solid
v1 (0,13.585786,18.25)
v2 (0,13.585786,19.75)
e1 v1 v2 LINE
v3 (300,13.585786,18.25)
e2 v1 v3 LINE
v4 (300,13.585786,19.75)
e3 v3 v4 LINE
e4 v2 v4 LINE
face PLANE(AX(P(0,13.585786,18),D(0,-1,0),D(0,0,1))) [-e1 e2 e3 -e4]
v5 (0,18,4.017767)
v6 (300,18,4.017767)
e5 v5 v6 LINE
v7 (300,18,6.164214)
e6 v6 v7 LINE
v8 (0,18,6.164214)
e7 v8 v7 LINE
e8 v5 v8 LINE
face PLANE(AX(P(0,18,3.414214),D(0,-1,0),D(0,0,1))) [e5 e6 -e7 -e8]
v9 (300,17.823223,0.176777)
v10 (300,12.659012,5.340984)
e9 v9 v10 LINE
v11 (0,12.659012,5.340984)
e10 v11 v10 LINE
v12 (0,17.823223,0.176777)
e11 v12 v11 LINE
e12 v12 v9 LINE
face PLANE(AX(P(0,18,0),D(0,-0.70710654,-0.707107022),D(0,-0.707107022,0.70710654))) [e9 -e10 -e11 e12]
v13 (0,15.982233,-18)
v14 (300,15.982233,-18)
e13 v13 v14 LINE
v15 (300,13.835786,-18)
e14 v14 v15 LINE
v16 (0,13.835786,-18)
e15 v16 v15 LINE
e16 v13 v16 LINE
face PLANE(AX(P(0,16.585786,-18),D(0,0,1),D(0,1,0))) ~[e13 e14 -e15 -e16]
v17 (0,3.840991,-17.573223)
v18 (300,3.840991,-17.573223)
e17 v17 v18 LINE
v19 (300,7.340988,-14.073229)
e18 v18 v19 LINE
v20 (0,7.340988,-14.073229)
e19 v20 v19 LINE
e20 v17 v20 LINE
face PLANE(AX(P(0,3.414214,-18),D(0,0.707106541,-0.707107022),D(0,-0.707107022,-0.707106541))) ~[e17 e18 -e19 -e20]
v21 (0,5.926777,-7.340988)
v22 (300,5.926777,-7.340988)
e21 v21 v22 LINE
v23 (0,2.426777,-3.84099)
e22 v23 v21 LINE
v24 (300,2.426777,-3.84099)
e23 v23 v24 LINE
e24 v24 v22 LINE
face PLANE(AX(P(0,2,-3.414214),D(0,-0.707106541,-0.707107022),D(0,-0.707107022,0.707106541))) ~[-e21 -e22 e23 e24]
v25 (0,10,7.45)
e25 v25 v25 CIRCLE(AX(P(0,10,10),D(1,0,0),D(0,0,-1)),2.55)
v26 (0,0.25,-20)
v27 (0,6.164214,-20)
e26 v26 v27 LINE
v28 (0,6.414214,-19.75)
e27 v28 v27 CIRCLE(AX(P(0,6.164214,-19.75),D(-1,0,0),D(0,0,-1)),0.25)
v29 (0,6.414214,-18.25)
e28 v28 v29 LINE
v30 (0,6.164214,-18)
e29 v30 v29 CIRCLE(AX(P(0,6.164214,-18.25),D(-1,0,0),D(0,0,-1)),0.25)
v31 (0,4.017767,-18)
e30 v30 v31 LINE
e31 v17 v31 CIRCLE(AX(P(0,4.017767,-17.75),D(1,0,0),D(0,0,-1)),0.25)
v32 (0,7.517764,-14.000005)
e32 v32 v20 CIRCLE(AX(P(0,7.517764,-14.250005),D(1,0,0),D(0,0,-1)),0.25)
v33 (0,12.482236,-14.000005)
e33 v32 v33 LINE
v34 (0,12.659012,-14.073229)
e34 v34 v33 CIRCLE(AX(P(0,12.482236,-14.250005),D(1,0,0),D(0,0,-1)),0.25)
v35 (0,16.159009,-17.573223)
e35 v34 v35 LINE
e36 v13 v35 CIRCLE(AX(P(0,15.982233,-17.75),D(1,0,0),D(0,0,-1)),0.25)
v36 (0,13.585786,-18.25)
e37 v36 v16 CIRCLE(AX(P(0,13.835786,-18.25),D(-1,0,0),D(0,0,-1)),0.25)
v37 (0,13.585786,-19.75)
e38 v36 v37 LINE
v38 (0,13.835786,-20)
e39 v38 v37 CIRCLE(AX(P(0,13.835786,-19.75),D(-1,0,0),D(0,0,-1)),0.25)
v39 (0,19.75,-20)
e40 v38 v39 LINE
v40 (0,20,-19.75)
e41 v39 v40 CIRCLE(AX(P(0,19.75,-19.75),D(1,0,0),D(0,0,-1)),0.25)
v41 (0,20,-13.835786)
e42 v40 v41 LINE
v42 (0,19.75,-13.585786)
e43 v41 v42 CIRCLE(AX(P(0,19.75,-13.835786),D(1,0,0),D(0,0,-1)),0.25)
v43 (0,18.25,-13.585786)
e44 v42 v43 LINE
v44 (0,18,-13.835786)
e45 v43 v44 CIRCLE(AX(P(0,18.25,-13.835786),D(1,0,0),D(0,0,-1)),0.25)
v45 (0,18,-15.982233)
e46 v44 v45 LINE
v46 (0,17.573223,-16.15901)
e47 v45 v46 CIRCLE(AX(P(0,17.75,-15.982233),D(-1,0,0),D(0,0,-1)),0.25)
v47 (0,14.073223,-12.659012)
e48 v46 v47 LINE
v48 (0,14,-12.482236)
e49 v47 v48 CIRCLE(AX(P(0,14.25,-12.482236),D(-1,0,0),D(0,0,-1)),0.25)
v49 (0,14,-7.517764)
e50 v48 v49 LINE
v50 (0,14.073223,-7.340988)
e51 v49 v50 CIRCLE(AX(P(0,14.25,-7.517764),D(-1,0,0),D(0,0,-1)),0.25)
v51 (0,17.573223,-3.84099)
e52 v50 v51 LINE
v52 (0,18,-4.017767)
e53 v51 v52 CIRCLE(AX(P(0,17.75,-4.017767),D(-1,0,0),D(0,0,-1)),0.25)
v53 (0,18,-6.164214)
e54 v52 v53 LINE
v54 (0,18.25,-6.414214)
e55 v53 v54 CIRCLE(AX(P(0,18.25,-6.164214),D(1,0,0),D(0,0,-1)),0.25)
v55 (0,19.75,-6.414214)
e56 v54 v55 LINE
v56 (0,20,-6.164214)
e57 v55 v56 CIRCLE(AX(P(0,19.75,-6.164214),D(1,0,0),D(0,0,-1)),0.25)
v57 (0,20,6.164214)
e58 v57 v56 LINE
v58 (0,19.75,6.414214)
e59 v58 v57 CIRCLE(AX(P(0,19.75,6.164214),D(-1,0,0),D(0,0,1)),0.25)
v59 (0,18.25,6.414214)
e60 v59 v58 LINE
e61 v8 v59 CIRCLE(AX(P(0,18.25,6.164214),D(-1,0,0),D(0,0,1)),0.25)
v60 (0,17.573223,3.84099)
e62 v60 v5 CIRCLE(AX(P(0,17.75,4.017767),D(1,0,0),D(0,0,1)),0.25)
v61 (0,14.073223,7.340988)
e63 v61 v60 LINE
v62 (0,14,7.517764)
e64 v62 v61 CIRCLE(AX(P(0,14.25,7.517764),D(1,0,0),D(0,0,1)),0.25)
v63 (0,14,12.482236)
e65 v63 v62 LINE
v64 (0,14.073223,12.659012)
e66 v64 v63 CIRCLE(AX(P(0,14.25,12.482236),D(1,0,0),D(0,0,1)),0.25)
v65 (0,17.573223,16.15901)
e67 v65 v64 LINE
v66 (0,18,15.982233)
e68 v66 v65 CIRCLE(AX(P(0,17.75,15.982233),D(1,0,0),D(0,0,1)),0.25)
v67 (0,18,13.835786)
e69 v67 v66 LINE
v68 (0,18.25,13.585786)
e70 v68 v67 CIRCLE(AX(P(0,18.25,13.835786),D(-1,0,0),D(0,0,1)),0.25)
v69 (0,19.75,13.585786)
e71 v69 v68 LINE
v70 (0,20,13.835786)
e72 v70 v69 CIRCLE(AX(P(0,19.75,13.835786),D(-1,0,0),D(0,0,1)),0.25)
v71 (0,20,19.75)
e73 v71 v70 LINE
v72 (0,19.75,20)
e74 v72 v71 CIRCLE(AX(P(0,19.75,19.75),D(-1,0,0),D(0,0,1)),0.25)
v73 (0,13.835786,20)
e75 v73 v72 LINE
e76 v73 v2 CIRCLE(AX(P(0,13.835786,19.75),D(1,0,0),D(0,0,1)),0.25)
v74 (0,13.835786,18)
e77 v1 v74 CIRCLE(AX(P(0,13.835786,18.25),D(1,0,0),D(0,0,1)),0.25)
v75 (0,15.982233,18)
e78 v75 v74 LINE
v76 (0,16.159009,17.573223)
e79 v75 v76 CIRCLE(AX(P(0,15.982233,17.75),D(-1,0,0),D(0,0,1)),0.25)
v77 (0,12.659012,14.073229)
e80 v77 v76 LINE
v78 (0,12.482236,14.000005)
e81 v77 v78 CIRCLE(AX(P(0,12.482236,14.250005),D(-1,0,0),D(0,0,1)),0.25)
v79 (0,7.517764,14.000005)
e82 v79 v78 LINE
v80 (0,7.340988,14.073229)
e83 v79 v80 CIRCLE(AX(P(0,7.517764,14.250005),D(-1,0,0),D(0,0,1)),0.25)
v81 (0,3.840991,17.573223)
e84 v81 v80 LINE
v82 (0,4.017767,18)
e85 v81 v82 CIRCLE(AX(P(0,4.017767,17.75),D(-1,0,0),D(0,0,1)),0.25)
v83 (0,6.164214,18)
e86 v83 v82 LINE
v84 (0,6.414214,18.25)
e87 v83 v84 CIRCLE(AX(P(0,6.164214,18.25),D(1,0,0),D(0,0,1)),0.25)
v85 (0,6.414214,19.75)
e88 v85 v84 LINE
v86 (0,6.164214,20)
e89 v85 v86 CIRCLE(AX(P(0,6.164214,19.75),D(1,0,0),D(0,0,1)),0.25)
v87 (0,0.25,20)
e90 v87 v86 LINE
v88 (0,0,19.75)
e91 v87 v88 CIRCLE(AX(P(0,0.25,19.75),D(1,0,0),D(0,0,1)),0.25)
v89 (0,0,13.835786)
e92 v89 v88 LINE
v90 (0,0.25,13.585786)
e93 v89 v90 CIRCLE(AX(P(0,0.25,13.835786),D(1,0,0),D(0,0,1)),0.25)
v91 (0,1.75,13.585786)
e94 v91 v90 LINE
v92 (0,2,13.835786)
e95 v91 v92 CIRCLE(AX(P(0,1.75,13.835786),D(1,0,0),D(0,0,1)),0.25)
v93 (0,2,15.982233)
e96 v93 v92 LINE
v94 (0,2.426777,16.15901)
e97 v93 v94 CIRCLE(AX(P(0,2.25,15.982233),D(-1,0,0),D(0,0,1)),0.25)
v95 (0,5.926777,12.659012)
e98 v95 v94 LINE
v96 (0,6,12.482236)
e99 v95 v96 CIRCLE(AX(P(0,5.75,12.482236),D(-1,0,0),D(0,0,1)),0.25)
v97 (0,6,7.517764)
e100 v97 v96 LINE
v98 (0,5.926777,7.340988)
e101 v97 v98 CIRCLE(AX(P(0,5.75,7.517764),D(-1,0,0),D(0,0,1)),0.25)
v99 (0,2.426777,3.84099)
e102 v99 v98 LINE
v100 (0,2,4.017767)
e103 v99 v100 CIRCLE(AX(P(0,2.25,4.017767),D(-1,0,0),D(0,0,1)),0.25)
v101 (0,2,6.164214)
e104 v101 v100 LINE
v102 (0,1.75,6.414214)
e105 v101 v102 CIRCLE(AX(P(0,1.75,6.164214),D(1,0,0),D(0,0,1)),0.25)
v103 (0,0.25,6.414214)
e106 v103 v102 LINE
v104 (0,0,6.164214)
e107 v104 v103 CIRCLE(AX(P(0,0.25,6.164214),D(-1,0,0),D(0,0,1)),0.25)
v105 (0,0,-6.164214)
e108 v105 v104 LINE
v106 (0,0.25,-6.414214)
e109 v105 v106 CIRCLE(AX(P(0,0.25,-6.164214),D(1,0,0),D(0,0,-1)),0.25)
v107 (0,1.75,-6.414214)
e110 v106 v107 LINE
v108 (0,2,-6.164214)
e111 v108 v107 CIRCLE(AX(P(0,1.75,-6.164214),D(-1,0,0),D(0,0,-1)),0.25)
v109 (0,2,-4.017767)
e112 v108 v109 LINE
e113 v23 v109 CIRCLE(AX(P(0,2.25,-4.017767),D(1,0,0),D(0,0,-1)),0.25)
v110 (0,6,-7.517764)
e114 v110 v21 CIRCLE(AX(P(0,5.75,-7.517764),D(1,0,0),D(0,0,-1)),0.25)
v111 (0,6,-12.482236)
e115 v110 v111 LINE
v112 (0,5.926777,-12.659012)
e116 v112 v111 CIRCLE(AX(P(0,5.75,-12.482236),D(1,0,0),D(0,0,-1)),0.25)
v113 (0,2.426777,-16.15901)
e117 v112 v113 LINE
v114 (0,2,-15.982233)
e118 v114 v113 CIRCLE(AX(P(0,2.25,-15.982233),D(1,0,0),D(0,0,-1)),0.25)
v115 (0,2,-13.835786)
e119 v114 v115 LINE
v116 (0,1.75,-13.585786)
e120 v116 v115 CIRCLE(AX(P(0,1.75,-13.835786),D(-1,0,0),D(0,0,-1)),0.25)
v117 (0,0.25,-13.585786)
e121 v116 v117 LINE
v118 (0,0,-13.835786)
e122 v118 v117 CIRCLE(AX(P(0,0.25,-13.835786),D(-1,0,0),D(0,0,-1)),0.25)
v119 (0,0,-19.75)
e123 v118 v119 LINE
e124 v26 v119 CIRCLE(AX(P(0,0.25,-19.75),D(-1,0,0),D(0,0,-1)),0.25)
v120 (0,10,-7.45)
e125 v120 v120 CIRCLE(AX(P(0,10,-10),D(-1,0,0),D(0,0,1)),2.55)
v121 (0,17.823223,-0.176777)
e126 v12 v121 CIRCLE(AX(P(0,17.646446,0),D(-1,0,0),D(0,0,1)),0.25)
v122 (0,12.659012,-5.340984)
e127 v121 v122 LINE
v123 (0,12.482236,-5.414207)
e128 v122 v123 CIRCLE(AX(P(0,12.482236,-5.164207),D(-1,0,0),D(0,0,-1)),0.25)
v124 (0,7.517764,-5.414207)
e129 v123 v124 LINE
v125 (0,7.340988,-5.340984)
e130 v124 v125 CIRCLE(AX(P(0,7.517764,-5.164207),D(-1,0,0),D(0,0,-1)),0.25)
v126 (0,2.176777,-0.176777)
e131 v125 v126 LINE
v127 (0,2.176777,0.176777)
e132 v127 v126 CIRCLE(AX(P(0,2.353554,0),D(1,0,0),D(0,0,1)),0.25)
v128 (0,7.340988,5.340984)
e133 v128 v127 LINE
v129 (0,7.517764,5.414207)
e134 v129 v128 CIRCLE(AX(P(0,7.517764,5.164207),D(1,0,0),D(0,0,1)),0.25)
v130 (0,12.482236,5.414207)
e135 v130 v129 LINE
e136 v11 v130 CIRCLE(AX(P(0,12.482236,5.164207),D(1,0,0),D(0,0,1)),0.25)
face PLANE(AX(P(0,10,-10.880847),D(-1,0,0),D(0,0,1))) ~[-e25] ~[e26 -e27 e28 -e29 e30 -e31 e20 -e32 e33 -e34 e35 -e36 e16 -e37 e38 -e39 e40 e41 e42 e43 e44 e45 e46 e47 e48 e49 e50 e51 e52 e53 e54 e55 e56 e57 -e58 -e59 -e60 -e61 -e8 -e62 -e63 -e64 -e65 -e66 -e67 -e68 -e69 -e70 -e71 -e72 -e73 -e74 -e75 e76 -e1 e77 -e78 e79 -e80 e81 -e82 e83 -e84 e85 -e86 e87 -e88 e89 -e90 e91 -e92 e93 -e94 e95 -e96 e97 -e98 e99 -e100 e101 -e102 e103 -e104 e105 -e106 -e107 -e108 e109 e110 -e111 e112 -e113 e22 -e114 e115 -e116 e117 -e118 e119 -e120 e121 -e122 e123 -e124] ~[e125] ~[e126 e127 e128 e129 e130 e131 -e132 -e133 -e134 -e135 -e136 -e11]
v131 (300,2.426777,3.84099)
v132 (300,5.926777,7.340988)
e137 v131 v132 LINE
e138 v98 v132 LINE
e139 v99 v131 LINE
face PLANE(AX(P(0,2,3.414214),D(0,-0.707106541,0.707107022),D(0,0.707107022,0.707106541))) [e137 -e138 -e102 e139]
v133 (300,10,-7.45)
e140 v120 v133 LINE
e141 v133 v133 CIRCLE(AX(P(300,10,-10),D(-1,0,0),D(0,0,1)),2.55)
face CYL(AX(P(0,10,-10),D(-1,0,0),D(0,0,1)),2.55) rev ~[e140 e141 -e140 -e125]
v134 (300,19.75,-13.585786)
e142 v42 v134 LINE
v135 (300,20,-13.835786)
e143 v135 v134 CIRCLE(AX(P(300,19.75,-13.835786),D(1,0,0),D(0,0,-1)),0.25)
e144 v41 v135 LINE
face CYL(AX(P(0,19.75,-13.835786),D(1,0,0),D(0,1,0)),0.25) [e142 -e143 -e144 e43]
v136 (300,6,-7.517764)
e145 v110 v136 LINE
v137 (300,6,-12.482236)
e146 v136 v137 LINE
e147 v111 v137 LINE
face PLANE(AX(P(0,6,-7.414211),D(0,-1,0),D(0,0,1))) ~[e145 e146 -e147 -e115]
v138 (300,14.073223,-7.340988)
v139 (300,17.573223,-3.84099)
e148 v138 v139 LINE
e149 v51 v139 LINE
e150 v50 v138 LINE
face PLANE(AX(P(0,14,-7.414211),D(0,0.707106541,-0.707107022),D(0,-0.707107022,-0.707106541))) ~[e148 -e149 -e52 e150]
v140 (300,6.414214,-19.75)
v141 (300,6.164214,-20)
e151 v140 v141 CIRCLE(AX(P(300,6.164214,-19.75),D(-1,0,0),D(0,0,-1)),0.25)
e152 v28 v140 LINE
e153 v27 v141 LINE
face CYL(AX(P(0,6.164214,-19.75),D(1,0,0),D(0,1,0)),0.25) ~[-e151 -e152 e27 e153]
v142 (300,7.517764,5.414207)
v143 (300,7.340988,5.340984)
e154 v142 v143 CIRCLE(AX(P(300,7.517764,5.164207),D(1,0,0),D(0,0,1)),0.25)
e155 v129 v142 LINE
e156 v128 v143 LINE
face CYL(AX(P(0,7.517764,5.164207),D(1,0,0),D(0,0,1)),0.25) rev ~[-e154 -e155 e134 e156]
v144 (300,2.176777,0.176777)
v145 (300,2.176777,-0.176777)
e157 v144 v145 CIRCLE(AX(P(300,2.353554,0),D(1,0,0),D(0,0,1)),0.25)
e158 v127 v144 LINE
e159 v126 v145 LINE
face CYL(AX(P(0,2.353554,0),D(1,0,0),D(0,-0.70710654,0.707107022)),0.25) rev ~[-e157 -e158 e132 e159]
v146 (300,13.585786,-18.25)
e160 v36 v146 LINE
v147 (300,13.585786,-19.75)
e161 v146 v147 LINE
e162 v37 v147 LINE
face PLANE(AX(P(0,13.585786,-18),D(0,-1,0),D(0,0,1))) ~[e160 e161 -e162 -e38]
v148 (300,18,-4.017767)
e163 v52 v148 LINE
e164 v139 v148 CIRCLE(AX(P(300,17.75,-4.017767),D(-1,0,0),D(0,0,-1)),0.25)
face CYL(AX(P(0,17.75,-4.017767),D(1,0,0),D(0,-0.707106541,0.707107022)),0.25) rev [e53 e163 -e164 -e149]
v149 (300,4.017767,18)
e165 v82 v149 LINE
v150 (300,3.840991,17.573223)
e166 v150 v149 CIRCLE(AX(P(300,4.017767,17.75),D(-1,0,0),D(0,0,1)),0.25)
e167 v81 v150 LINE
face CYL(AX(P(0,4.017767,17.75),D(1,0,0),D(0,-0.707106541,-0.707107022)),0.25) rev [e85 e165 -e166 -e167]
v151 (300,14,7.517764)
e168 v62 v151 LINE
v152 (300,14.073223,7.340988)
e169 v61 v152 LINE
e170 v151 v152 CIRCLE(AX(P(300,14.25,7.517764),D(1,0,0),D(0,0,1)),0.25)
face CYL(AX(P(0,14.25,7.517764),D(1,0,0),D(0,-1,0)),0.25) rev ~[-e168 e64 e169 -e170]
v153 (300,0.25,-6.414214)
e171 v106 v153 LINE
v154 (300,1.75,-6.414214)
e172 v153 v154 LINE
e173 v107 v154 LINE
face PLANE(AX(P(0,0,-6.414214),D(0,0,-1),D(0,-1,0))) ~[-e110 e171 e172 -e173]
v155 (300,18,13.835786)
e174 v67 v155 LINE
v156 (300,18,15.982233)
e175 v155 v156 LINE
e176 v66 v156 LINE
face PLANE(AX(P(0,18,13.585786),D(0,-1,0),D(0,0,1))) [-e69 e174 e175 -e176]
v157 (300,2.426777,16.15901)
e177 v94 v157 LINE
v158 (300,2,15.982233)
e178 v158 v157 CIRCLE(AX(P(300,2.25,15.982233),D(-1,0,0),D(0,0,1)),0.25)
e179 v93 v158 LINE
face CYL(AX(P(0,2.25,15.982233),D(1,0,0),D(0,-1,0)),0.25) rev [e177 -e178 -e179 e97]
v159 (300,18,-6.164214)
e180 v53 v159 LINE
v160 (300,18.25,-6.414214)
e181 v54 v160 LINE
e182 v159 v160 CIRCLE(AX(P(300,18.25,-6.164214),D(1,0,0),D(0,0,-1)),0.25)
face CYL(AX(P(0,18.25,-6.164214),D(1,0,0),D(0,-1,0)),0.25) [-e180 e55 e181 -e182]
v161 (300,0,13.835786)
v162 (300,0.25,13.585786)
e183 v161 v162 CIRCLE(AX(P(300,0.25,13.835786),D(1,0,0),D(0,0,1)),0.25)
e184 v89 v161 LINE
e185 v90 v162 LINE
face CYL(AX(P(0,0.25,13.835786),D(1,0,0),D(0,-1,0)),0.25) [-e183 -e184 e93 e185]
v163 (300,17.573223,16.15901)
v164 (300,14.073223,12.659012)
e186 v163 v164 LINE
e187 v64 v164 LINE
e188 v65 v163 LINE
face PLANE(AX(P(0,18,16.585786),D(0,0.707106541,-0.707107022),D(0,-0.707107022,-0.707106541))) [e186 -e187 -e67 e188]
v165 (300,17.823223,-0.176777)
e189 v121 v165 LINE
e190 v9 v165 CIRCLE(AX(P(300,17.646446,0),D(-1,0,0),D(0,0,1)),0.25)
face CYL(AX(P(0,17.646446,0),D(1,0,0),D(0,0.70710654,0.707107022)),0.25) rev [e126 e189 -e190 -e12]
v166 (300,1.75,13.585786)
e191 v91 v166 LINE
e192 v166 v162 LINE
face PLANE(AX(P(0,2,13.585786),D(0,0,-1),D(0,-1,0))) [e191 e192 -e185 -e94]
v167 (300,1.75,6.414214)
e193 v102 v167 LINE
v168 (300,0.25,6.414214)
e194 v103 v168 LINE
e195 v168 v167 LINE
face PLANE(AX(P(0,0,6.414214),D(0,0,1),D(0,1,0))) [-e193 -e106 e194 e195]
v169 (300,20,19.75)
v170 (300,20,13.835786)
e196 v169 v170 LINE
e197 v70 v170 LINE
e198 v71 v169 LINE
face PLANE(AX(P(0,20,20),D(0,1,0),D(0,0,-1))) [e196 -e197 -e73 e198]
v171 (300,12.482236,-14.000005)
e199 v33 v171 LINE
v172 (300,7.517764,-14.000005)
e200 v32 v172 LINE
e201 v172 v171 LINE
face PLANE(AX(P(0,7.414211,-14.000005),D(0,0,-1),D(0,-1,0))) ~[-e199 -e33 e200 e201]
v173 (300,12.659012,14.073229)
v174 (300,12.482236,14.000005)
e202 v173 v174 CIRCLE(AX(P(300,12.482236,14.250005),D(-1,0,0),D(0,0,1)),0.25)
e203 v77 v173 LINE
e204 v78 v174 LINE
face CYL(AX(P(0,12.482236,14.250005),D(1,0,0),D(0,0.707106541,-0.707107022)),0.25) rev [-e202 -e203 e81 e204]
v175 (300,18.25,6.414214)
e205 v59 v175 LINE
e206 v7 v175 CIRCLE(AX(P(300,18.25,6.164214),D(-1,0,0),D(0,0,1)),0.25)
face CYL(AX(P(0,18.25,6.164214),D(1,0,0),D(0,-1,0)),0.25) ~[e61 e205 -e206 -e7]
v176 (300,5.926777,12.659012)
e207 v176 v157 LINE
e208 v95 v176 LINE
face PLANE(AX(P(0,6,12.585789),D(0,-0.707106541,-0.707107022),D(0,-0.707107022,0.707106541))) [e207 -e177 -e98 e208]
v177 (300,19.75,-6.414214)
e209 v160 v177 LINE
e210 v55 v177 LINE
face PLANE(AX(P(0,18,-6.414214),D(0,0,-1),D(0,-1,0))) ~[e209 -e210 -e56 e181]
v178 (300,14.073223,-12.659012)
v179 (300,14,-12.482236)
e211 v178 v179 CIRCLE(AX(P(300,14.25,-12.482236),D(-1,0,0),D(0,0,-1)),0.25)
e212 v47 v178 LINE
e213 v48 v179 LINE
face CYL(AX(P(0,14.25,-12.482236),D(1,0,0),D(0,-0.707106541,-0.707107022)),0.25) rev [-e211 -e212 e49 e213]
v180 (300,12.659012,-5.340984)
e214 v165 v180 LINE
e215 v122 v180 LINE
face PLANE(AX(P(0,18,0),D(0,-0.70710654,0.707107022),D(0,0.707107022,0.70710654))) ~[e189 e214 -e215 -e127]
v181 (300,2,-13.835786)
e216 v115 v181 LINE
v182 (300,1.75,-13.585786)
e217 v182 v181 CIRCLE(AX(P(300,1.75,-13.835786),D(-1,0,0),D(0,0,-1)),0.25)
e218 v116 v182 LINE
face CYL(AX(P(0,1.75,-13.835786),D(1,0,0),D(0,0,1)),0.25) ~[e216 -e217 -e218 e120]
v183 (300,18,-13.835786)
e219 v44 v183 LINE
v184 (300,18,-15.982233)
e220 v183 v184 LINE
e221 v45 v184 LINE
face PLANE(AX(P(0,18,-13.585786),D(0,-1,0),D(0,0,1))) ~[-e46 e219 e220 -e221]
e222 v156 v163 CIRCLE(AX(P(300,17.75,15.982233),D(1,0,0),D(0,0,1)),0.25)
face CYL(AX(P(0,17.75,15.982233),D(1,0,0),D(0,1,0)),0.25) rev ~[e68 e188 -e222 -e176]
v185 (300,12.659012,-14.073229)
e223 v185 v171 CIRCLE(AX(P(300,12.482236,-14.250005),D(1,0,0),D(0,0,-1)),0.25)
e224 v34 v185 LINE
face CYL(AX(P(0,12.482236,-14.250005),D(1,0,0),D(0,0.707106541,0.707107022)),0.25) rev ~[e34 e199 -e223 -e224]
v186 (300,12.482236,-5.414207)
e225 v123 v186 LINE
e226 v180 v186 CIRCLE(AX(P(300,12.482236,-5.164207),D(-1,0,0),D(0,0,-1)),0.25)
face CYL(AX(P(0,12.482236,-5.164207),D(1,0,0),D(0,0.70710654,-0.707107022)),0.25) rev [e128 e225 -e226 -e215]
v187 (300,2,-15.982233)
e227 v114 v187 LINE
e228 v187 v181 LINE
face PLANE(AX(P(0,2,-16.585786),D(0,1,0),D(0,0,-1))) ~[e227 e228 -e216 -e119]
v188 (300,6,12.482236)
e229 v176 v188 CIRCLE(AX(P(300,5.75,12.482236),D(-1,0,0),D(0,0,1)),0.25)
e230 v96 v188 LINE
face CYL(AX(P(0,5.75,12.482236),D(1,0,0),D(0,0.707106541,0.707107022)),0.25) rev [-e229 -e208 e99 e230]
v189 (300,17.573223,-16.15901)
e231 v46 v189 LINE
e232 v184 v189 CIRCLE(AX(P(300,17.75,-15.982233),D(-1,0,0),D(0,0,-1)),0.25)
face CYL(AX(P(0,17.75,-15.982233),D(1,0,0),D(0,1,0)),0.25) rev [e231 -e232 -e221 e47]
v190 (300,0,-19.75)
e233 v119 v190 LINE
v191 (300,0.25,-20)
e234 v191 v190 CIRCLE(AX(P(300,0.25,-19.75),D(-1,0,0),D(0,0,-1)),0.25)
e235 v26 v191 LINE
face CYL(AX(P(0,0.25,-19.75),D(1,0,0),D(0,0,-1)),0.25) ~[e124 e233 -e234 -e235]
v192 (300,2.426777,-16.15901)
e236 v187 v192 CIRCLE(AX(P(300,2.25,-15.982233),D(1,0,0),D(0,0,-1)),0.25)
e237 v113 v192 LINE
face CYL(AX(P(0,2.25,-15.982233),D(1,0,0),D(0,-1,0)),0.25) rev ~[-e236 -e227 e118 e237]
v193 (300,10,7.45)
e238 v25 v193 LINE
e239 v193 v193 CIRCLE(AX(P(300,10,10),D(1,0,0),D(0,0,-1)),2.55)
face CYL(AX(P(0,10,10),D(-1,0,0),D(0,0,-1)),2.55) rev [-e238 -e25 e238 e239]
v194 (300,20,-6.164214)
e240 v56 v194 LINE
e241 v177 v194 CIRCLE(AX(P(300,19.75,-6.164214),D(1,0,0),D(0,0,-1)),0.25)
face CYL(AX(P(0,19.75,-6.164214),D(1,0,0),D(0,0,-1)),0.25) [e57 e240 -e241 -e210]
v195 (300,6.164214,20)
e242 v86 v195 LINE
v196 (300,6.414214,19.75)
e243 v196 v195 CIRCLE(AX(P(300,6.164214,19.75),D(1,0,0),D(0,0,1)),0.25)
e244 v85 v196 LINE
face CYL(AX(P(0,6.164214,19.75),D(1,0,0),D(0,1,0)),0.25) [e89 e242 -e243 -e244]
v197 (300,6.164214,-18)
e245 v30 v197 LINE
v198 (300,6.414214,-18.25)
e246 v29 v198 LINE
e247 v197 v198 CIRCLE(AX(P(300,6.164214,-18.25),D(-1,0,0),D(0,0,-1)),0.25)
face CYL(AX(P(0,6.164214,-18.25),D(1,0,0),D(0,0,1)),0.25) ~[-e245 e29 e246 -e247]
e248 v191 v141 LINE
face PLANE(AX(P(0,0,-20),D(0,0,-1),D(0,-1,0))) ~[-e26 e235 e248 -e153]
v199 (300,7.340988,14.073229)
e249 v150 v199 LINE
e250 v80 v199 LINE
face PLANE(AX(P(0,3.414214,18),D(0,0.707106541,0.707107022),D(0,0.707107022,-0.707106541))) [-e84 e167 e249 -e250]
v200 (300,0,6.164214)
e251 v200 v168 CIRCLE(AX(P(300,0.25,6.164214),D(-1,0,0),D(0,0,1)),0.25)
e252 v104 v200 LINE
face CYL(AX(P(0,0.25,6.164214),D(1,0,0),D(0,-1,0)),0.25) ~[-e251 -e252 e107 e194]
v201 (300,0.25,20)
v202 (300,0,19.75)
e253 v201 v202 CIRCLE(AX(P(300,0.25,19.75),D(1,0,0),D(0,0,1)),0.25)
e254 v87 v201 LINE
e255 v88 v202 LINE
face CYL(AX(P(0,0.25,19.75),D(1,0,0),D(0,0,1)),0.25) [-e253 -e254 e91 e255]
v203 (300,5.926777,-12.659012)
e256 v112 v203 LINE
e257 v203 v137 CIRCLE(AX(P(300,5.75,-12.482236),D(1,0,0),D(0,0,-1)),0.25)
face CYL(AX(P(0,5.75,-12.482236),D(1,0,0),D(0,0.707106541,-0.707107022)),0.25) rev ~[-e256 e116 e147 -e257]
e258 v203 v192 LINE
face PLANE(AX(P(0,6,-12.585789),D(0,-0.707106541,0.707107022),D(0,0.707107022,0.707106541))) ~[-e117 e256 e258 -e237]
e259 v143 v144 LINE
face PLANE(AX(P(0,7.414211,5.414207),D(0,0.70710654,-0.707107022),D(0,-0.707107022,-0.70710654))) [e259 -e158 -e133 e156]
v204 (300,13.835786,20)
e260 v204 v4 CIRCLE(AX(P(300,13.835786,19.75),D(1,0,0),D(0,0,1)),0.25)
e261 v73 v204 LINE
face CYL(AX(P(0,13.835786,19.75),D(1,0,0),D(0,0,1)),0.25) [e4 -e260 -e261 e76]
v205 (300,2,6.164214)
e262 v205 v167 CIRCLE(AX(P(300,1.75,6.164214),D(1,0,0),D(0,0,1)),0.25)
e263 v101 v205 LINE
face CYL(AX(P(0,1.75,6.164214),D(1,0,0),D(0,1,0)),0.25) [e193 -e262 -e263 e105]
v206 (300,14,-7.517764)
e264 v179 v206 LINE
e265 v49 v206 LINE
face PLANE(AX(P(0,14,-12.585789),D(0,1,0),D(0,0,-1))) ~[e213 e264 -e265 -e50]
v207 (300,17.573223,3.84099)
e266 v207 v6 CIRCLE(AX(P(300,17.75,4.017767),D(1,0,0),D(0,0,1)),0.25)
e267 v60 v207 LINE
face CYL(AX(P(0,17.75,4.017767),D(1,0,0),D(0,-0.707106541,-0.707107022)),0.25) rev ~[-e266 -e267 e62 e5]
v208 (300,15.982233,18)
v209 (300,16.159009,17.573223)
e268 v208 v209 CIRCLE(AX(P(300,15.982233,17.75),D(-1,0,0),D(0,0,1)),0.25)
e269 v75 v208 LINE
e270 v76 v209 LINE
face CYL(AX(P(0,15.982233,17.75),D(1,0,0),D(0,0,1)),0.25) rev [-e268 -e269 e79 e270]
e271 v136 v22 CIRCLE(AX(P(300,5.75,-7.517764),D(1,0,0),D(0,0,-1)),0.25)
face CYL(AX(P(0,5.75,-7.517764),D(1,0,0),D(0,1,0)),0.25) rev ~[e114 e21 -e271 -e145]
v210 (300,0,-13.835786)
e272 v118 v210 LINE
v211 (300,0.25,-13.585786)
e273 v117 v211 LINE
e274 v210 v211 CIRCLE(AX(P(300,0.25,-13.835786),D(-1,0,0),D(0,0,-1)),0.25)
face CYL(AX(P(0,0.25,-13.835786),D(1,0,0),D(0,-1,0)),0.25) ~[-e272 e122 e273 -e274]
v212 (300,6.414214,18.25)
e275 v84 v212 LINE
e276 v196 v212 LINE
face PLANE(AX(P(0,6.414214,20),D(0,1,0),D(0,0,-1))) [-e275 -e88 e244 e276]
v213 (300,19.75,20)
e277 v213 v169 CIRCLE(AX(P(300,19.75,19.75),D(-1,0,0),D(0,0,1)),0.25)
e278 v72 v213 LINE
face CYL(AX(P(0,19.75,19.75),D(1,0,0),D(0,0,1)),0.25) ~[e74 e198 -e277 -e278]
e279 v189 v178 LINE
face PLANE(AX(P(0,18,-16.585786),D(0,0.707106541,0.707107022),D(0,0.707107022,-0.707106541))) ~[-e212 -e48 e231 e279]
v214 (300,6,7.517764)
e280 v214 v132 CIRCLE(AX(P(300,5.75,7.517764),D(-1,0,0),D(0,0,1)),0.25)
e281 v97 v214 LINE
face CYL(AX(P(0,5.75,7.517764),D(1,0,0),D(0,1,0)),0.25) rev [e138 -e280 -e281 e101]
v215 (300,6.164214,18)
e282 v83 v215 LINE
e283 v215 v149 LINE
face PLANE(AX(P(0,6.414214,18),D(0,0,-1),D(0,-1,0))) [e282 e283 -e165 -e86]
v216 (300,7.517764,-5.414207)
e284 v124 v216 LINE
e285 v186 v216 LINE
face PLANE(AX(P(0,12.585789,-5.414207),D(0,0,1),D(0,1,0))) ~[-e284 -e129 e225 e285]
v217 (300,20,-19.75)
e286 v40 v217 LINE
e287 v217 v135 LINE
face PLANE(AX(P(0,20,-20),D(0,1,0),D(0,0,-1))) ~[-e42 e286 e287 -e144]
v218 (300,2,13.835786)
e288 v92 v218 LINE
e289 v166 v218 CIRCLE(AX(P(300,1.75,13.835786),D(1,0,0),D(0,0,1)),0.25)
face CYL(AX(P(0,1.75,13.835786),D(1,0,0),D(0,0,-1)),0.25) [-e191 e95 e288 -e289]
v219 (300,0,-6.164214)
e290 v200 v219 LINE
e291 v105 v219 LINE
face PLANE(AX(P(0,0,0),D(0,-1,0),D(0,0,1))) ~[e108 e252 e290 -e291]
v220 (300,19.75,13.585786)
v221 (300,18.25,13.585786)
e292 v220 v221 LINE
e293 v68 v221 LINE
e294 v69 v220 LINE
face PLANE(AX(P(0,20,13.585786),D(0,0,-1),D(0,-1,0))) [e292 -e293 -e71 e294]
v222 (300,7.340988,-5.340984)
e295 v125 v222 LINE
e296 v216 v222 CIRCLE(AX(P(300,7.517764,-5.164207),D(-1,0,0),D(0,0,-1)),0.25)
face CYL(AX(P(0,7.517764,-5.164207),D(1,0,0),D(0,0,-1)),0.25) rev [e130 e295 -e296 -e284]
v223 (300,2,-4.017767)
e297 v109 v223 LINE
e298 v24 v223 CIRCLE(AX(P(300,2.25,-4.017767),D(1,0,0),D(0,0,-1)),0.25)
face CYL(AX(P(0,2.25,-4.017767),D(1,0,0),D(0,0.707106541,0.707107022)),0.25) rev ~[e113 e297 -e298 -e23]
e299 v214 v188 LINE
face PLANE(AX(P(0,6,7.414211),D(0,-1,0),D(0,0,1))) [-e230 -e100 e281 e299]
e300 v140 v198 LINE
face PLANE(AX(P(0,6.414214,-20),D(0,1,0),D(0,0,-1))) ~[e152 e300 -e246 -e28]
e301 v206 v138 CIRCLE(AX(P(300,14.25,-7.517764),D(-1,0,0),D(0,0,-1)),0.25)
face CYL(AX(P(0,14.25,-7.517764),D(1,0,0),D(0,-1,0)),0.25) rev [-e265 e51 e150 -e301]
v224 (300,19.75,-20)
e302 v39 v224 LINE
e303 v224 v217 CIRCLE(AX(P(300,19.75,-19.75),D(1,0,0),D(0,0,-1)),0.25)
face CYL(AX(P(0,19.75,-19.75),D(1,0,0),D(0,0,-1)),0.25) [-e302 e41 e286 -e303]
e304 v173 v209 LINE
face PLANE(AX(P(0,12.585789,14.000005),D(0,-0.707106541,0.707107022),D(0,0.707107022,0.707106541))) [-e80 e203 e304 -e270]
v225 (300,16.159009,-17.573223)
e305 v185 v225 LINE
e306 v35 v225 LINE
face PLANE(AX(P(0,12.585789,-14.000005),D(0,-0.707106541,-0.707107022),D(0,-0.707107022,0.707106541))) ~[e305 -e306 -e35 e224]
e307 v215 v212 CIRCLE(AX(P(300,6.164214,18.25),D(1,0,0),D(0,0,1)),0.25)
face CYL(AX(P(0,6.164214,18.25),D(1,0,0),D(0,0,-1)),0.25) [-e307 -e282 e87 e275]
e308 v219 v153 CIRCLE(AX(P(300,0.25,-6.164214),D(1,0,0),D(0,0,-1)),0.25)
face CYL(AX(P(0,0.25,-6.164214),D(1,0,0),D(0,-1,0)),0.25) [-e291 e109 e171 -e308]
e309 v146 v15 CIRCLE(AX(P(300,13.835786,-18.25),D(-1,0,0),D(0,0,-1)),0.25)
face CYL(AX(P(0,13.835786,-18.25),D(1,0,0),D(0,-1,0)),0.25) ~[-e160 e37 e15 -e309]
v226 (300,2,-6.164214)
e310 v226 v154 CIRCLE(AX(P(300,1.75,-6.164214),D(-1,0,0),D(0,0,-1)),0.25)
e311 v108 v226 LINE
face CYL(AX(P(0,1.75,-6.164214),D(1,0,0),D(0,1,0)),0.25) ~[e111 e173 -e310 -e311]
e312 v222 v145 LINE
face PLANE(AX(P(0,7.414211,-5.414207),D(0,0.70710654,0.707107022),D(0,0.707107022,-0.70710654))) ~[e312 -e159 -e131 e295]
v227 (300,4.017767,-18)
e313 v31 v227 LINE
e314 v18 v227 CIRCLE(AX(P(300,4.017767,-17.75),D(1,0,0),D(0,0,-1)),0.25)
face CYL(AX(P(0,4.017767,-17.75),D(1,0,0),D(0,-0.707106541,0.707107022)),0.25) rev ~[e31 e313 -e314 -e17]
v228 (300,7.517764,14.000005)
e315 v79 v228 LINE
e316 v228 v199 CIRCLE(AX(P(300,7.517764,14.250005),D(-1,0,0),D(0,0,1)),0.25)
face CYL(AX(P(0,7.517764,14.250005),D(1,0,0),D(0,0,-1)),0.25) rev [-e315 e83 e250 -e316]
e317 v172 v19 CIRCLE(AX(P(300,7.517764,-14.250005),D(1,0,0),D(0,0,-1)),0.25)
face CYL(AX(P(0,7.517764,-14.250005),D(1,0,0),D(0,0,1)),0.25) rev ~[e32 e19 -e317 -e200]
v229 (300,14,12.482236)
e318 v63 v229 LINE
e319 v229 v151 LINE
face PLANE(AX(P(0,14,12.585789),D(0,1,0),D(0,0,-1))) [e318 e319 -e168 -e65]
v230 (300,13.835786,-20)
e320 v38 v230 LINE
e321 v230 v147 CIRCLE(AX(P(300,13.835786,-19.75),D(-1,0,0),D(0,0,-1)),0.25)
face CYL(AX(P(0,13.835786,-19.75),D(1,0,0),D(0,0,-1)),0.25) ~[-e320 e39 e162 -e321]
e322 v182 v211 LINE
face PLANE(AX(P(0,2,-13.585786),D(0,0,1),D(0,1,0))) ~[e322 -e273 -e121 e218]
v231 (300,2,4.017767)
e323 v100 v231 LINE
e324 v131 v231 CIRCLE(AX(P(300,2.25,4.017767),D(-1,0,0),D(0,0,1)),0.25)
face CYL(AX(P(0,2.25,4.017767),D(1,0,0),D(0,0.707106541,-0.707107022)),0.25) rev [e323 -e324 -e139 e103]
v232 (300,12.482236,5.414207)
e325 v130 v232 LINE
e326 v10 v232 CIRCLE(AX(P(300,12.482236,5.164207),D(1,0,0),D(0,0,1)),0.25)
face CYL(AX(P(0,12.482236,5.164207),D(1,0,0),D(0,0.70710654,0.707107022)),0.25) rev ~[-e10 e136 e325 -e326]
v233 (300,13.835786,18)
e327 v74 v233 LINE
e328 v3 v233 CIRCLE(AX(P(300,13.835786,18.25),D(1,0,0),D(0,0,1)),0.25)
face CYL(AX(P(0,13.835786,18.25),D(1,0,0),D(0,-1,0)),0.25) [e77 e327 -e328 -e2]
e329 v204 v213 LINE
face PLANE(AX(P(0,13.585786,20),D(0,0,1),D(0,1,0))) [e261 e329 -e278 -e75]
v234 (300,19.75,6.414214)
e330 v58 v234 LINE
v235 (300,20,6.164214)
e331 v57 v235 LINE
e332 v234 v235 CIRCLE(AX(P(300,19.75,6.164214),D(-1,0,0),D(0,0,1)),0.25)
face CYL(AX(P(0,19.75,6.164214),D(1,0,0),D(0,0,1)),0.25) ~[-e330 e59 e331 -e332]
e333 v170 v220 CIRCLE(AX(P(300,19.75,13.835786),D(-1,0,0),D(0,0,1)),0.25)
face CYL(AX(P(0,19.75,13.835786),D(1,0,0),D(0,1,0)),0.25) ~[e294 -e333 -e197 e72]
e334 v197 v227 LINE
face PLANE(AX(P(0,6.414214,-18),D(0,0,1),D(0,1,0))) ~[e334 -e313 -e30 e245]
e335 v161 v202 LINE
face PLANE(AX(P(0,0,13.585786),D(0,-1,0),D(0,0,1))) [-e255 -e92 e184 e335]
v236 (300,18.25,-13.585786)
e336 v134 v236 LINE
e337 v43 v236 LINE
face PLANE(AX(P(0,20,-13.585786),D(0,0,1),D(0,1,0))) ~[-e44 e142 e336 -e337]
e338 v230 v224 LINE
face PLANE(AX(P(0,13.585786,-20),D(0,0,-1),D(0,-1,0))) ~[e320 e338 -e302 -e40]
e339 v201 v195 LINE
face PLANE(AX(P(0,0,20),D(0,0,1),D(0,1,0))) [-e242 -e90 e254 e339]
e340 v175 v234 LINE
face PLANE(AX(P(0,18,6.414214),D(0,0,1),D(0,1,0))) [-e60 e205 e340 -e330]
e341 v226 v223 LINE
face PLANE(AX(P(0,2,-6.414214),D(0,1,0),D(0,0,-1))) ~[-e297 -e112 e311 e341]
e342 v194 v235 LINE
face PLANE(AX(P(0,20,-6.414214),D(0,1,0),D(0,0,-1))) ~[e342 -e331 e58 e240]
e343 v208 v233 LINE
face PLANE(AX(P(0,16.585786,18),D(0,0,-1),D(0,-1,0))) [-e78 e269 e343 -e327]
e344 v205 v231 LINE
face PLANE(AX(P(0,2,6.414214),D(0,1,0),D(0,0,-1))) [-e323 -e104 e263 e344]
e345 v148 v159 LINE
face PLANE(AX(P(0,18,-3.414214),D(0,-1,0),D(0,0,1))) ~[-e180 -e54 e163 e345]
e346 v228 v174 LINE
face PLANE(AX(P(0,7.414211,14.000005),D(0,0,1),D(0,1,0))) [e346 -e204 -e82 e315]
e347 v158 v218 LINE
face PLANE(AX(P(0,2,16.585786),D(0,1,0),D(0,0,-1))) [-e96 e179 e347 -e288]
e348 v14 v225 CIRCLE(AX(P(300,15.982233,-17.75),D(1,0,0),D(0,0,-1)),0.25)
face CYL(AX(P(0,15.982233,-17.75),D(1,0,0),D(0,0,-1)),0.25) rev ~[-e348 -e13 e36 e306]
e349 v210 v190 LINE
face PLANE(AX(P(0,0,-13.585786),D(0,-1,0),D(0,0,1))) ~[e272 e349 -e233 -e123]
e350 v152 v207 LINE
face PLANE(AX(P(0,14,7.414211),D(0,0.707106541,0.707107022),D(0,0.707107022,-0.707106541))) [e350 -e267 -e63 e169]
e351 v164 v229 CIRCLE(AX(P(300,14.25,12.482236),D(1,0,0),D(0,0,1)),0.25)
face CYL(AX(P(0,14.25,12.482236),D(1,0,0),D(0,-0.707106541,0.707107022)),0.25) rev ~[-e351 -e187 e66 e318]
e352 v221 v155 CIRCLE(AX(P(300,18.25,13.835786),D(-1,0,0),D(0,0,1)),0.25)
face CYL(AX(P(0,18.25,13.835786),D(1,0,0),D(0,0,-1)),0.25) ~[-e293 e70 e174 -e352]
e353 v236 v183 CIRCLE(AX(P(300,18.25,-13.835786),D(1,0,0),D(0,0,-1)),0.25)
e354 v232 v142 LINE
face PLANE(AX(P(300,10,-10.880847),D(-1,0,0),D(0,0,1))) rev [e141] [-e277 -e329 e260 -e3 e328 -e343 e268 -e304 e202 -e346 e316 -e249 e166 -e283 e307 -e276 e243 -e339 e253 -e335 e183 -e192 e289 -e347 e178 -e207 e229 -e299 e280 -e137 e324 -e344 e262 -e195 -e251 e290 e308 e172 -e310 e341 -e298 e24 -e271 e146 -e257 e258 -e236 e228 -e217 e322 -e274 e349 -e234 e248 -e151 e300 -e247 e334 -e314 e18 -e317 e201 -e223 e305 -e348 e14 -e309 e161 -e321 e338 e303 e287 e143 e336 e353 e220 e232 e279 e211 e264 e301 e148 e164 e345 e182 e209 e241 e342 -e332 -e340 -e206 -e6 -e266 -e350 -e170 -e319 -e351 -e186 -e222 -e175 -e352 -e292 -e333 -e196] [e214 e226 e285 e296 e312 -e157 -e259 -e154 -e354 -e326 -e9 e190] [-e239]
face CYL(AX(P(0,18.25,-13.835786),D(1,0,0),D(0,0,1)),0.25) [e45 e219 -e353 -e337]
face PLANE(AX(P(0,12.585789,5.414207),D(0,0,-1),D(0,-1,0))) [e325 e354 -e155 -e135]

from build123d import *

# Parameters (mm, degrees)
SKETCH2_R           = 2.55
BOSS_EXTRUDE2_DEPTH = 300
FILLET1_R           = 0.25
FILLET2_R           = 0.25


with BuildPart() as part:
    # Sketch2 → Boss-Extrude2 (new body)
    with BuildSketch(Plane(origin=(0, 0, 0), x_dir=(0, 0, -1), z_dir=(1, 0, 0))):
        Polygon((-20, 13.585786438), (-20, 20), (-13.585786438, 20), (-13.585786438, 18), (-16.585786438, 18), (-12.58578916, 14), (-7.41421084, 14), (-3.414213562, 18), (-6.414213562, 18), (-6.414213562, 20), (0, 20), (0, 18), (-5.414207154, 12.58578916), (-5.414207154, 7.41421084), (0, 2), (0, 0), (-6.414213562, 0), (-6.414213562, 2), (-3.414213562, 2), (-7.41421084, 6), (-12.58578916, 6), (-16.585786438, 2), (-13.585786438, 2), (-13.585786438, 0), (-20, 0), (-20, 6.414213562), (-18, 6.414213562), (-18, 3.414213562), (-14.000005445, 7.41421084), (-14.000005445, 12.58578916), (-18, 16.585786438), (-18, 13.585786438), align=None)
        with Locations((-10, 10)):
            Circle(SKETCH2_R, mode=Mode.SUBTRACT)
    extrude(amount=BOSS_EXTRUDE2_DEPTH)

    # Fillet1
    fillet1_edges = [part.edges().sort_by_distance(p)[0] for p in [
        (150, 13.585786438, 20),
        (150, 20, 20),
        (150, 20, 13.585786438),
        (150, 18, 13.585786438),
        (150, 18, 16.585786438),
        (150, 14, 12.58578916),
        (150, 14, 7.41421084),
        (150, 18, 3.414213562),
        (150, 18, 6.414213562),
        (150, 20, 6.414213562),
        (150, 12.58578916, 5.414207154),
        (150, 7.41421084, 5.414207154),
        (150, 0, 6.414213562),
        (150, 2, 6.414213562),
        (150, 2, 3.414213562),
        (150, 6, 7.41421084),
        (150, 6, 12.58578916),
        (150, 2, 16.585786438),
        (150, 2, 13.585786438),
        (150, 0, 13.585786438),
        (150, 0, 20),
        (150, 6.414213562, 20),
        (150, 6.414213562, 18),
        (150, 3.414213562, 18),
        (150, 7.41421084, 14.000005445),
        (150, 12.58578916, 14.000005445),
        (150, 16.585786438, 18),
        (150, 13.585786438, 18),
    ]]
    fillet(fillet1_edges, radius=FILLET1_R)

    # Mirror3: part across plane


with BuildPart() as part_1:
    add(part.part)
    add(part.part.mirror(Plane(origin=(300, 20, 0), x_dir=(1, 0, 0), z_dir=(0, 0, 1))))

    # Fillet2
    fillet2_edges = [part_1.edges().sort_by_distance(p)[0] for p in [
        (150, 2, 0),
        (150, 18, 0),
    ]]
    fillet(fillet2_edges, radius=FILLET2_R)


solid = part_1.part
